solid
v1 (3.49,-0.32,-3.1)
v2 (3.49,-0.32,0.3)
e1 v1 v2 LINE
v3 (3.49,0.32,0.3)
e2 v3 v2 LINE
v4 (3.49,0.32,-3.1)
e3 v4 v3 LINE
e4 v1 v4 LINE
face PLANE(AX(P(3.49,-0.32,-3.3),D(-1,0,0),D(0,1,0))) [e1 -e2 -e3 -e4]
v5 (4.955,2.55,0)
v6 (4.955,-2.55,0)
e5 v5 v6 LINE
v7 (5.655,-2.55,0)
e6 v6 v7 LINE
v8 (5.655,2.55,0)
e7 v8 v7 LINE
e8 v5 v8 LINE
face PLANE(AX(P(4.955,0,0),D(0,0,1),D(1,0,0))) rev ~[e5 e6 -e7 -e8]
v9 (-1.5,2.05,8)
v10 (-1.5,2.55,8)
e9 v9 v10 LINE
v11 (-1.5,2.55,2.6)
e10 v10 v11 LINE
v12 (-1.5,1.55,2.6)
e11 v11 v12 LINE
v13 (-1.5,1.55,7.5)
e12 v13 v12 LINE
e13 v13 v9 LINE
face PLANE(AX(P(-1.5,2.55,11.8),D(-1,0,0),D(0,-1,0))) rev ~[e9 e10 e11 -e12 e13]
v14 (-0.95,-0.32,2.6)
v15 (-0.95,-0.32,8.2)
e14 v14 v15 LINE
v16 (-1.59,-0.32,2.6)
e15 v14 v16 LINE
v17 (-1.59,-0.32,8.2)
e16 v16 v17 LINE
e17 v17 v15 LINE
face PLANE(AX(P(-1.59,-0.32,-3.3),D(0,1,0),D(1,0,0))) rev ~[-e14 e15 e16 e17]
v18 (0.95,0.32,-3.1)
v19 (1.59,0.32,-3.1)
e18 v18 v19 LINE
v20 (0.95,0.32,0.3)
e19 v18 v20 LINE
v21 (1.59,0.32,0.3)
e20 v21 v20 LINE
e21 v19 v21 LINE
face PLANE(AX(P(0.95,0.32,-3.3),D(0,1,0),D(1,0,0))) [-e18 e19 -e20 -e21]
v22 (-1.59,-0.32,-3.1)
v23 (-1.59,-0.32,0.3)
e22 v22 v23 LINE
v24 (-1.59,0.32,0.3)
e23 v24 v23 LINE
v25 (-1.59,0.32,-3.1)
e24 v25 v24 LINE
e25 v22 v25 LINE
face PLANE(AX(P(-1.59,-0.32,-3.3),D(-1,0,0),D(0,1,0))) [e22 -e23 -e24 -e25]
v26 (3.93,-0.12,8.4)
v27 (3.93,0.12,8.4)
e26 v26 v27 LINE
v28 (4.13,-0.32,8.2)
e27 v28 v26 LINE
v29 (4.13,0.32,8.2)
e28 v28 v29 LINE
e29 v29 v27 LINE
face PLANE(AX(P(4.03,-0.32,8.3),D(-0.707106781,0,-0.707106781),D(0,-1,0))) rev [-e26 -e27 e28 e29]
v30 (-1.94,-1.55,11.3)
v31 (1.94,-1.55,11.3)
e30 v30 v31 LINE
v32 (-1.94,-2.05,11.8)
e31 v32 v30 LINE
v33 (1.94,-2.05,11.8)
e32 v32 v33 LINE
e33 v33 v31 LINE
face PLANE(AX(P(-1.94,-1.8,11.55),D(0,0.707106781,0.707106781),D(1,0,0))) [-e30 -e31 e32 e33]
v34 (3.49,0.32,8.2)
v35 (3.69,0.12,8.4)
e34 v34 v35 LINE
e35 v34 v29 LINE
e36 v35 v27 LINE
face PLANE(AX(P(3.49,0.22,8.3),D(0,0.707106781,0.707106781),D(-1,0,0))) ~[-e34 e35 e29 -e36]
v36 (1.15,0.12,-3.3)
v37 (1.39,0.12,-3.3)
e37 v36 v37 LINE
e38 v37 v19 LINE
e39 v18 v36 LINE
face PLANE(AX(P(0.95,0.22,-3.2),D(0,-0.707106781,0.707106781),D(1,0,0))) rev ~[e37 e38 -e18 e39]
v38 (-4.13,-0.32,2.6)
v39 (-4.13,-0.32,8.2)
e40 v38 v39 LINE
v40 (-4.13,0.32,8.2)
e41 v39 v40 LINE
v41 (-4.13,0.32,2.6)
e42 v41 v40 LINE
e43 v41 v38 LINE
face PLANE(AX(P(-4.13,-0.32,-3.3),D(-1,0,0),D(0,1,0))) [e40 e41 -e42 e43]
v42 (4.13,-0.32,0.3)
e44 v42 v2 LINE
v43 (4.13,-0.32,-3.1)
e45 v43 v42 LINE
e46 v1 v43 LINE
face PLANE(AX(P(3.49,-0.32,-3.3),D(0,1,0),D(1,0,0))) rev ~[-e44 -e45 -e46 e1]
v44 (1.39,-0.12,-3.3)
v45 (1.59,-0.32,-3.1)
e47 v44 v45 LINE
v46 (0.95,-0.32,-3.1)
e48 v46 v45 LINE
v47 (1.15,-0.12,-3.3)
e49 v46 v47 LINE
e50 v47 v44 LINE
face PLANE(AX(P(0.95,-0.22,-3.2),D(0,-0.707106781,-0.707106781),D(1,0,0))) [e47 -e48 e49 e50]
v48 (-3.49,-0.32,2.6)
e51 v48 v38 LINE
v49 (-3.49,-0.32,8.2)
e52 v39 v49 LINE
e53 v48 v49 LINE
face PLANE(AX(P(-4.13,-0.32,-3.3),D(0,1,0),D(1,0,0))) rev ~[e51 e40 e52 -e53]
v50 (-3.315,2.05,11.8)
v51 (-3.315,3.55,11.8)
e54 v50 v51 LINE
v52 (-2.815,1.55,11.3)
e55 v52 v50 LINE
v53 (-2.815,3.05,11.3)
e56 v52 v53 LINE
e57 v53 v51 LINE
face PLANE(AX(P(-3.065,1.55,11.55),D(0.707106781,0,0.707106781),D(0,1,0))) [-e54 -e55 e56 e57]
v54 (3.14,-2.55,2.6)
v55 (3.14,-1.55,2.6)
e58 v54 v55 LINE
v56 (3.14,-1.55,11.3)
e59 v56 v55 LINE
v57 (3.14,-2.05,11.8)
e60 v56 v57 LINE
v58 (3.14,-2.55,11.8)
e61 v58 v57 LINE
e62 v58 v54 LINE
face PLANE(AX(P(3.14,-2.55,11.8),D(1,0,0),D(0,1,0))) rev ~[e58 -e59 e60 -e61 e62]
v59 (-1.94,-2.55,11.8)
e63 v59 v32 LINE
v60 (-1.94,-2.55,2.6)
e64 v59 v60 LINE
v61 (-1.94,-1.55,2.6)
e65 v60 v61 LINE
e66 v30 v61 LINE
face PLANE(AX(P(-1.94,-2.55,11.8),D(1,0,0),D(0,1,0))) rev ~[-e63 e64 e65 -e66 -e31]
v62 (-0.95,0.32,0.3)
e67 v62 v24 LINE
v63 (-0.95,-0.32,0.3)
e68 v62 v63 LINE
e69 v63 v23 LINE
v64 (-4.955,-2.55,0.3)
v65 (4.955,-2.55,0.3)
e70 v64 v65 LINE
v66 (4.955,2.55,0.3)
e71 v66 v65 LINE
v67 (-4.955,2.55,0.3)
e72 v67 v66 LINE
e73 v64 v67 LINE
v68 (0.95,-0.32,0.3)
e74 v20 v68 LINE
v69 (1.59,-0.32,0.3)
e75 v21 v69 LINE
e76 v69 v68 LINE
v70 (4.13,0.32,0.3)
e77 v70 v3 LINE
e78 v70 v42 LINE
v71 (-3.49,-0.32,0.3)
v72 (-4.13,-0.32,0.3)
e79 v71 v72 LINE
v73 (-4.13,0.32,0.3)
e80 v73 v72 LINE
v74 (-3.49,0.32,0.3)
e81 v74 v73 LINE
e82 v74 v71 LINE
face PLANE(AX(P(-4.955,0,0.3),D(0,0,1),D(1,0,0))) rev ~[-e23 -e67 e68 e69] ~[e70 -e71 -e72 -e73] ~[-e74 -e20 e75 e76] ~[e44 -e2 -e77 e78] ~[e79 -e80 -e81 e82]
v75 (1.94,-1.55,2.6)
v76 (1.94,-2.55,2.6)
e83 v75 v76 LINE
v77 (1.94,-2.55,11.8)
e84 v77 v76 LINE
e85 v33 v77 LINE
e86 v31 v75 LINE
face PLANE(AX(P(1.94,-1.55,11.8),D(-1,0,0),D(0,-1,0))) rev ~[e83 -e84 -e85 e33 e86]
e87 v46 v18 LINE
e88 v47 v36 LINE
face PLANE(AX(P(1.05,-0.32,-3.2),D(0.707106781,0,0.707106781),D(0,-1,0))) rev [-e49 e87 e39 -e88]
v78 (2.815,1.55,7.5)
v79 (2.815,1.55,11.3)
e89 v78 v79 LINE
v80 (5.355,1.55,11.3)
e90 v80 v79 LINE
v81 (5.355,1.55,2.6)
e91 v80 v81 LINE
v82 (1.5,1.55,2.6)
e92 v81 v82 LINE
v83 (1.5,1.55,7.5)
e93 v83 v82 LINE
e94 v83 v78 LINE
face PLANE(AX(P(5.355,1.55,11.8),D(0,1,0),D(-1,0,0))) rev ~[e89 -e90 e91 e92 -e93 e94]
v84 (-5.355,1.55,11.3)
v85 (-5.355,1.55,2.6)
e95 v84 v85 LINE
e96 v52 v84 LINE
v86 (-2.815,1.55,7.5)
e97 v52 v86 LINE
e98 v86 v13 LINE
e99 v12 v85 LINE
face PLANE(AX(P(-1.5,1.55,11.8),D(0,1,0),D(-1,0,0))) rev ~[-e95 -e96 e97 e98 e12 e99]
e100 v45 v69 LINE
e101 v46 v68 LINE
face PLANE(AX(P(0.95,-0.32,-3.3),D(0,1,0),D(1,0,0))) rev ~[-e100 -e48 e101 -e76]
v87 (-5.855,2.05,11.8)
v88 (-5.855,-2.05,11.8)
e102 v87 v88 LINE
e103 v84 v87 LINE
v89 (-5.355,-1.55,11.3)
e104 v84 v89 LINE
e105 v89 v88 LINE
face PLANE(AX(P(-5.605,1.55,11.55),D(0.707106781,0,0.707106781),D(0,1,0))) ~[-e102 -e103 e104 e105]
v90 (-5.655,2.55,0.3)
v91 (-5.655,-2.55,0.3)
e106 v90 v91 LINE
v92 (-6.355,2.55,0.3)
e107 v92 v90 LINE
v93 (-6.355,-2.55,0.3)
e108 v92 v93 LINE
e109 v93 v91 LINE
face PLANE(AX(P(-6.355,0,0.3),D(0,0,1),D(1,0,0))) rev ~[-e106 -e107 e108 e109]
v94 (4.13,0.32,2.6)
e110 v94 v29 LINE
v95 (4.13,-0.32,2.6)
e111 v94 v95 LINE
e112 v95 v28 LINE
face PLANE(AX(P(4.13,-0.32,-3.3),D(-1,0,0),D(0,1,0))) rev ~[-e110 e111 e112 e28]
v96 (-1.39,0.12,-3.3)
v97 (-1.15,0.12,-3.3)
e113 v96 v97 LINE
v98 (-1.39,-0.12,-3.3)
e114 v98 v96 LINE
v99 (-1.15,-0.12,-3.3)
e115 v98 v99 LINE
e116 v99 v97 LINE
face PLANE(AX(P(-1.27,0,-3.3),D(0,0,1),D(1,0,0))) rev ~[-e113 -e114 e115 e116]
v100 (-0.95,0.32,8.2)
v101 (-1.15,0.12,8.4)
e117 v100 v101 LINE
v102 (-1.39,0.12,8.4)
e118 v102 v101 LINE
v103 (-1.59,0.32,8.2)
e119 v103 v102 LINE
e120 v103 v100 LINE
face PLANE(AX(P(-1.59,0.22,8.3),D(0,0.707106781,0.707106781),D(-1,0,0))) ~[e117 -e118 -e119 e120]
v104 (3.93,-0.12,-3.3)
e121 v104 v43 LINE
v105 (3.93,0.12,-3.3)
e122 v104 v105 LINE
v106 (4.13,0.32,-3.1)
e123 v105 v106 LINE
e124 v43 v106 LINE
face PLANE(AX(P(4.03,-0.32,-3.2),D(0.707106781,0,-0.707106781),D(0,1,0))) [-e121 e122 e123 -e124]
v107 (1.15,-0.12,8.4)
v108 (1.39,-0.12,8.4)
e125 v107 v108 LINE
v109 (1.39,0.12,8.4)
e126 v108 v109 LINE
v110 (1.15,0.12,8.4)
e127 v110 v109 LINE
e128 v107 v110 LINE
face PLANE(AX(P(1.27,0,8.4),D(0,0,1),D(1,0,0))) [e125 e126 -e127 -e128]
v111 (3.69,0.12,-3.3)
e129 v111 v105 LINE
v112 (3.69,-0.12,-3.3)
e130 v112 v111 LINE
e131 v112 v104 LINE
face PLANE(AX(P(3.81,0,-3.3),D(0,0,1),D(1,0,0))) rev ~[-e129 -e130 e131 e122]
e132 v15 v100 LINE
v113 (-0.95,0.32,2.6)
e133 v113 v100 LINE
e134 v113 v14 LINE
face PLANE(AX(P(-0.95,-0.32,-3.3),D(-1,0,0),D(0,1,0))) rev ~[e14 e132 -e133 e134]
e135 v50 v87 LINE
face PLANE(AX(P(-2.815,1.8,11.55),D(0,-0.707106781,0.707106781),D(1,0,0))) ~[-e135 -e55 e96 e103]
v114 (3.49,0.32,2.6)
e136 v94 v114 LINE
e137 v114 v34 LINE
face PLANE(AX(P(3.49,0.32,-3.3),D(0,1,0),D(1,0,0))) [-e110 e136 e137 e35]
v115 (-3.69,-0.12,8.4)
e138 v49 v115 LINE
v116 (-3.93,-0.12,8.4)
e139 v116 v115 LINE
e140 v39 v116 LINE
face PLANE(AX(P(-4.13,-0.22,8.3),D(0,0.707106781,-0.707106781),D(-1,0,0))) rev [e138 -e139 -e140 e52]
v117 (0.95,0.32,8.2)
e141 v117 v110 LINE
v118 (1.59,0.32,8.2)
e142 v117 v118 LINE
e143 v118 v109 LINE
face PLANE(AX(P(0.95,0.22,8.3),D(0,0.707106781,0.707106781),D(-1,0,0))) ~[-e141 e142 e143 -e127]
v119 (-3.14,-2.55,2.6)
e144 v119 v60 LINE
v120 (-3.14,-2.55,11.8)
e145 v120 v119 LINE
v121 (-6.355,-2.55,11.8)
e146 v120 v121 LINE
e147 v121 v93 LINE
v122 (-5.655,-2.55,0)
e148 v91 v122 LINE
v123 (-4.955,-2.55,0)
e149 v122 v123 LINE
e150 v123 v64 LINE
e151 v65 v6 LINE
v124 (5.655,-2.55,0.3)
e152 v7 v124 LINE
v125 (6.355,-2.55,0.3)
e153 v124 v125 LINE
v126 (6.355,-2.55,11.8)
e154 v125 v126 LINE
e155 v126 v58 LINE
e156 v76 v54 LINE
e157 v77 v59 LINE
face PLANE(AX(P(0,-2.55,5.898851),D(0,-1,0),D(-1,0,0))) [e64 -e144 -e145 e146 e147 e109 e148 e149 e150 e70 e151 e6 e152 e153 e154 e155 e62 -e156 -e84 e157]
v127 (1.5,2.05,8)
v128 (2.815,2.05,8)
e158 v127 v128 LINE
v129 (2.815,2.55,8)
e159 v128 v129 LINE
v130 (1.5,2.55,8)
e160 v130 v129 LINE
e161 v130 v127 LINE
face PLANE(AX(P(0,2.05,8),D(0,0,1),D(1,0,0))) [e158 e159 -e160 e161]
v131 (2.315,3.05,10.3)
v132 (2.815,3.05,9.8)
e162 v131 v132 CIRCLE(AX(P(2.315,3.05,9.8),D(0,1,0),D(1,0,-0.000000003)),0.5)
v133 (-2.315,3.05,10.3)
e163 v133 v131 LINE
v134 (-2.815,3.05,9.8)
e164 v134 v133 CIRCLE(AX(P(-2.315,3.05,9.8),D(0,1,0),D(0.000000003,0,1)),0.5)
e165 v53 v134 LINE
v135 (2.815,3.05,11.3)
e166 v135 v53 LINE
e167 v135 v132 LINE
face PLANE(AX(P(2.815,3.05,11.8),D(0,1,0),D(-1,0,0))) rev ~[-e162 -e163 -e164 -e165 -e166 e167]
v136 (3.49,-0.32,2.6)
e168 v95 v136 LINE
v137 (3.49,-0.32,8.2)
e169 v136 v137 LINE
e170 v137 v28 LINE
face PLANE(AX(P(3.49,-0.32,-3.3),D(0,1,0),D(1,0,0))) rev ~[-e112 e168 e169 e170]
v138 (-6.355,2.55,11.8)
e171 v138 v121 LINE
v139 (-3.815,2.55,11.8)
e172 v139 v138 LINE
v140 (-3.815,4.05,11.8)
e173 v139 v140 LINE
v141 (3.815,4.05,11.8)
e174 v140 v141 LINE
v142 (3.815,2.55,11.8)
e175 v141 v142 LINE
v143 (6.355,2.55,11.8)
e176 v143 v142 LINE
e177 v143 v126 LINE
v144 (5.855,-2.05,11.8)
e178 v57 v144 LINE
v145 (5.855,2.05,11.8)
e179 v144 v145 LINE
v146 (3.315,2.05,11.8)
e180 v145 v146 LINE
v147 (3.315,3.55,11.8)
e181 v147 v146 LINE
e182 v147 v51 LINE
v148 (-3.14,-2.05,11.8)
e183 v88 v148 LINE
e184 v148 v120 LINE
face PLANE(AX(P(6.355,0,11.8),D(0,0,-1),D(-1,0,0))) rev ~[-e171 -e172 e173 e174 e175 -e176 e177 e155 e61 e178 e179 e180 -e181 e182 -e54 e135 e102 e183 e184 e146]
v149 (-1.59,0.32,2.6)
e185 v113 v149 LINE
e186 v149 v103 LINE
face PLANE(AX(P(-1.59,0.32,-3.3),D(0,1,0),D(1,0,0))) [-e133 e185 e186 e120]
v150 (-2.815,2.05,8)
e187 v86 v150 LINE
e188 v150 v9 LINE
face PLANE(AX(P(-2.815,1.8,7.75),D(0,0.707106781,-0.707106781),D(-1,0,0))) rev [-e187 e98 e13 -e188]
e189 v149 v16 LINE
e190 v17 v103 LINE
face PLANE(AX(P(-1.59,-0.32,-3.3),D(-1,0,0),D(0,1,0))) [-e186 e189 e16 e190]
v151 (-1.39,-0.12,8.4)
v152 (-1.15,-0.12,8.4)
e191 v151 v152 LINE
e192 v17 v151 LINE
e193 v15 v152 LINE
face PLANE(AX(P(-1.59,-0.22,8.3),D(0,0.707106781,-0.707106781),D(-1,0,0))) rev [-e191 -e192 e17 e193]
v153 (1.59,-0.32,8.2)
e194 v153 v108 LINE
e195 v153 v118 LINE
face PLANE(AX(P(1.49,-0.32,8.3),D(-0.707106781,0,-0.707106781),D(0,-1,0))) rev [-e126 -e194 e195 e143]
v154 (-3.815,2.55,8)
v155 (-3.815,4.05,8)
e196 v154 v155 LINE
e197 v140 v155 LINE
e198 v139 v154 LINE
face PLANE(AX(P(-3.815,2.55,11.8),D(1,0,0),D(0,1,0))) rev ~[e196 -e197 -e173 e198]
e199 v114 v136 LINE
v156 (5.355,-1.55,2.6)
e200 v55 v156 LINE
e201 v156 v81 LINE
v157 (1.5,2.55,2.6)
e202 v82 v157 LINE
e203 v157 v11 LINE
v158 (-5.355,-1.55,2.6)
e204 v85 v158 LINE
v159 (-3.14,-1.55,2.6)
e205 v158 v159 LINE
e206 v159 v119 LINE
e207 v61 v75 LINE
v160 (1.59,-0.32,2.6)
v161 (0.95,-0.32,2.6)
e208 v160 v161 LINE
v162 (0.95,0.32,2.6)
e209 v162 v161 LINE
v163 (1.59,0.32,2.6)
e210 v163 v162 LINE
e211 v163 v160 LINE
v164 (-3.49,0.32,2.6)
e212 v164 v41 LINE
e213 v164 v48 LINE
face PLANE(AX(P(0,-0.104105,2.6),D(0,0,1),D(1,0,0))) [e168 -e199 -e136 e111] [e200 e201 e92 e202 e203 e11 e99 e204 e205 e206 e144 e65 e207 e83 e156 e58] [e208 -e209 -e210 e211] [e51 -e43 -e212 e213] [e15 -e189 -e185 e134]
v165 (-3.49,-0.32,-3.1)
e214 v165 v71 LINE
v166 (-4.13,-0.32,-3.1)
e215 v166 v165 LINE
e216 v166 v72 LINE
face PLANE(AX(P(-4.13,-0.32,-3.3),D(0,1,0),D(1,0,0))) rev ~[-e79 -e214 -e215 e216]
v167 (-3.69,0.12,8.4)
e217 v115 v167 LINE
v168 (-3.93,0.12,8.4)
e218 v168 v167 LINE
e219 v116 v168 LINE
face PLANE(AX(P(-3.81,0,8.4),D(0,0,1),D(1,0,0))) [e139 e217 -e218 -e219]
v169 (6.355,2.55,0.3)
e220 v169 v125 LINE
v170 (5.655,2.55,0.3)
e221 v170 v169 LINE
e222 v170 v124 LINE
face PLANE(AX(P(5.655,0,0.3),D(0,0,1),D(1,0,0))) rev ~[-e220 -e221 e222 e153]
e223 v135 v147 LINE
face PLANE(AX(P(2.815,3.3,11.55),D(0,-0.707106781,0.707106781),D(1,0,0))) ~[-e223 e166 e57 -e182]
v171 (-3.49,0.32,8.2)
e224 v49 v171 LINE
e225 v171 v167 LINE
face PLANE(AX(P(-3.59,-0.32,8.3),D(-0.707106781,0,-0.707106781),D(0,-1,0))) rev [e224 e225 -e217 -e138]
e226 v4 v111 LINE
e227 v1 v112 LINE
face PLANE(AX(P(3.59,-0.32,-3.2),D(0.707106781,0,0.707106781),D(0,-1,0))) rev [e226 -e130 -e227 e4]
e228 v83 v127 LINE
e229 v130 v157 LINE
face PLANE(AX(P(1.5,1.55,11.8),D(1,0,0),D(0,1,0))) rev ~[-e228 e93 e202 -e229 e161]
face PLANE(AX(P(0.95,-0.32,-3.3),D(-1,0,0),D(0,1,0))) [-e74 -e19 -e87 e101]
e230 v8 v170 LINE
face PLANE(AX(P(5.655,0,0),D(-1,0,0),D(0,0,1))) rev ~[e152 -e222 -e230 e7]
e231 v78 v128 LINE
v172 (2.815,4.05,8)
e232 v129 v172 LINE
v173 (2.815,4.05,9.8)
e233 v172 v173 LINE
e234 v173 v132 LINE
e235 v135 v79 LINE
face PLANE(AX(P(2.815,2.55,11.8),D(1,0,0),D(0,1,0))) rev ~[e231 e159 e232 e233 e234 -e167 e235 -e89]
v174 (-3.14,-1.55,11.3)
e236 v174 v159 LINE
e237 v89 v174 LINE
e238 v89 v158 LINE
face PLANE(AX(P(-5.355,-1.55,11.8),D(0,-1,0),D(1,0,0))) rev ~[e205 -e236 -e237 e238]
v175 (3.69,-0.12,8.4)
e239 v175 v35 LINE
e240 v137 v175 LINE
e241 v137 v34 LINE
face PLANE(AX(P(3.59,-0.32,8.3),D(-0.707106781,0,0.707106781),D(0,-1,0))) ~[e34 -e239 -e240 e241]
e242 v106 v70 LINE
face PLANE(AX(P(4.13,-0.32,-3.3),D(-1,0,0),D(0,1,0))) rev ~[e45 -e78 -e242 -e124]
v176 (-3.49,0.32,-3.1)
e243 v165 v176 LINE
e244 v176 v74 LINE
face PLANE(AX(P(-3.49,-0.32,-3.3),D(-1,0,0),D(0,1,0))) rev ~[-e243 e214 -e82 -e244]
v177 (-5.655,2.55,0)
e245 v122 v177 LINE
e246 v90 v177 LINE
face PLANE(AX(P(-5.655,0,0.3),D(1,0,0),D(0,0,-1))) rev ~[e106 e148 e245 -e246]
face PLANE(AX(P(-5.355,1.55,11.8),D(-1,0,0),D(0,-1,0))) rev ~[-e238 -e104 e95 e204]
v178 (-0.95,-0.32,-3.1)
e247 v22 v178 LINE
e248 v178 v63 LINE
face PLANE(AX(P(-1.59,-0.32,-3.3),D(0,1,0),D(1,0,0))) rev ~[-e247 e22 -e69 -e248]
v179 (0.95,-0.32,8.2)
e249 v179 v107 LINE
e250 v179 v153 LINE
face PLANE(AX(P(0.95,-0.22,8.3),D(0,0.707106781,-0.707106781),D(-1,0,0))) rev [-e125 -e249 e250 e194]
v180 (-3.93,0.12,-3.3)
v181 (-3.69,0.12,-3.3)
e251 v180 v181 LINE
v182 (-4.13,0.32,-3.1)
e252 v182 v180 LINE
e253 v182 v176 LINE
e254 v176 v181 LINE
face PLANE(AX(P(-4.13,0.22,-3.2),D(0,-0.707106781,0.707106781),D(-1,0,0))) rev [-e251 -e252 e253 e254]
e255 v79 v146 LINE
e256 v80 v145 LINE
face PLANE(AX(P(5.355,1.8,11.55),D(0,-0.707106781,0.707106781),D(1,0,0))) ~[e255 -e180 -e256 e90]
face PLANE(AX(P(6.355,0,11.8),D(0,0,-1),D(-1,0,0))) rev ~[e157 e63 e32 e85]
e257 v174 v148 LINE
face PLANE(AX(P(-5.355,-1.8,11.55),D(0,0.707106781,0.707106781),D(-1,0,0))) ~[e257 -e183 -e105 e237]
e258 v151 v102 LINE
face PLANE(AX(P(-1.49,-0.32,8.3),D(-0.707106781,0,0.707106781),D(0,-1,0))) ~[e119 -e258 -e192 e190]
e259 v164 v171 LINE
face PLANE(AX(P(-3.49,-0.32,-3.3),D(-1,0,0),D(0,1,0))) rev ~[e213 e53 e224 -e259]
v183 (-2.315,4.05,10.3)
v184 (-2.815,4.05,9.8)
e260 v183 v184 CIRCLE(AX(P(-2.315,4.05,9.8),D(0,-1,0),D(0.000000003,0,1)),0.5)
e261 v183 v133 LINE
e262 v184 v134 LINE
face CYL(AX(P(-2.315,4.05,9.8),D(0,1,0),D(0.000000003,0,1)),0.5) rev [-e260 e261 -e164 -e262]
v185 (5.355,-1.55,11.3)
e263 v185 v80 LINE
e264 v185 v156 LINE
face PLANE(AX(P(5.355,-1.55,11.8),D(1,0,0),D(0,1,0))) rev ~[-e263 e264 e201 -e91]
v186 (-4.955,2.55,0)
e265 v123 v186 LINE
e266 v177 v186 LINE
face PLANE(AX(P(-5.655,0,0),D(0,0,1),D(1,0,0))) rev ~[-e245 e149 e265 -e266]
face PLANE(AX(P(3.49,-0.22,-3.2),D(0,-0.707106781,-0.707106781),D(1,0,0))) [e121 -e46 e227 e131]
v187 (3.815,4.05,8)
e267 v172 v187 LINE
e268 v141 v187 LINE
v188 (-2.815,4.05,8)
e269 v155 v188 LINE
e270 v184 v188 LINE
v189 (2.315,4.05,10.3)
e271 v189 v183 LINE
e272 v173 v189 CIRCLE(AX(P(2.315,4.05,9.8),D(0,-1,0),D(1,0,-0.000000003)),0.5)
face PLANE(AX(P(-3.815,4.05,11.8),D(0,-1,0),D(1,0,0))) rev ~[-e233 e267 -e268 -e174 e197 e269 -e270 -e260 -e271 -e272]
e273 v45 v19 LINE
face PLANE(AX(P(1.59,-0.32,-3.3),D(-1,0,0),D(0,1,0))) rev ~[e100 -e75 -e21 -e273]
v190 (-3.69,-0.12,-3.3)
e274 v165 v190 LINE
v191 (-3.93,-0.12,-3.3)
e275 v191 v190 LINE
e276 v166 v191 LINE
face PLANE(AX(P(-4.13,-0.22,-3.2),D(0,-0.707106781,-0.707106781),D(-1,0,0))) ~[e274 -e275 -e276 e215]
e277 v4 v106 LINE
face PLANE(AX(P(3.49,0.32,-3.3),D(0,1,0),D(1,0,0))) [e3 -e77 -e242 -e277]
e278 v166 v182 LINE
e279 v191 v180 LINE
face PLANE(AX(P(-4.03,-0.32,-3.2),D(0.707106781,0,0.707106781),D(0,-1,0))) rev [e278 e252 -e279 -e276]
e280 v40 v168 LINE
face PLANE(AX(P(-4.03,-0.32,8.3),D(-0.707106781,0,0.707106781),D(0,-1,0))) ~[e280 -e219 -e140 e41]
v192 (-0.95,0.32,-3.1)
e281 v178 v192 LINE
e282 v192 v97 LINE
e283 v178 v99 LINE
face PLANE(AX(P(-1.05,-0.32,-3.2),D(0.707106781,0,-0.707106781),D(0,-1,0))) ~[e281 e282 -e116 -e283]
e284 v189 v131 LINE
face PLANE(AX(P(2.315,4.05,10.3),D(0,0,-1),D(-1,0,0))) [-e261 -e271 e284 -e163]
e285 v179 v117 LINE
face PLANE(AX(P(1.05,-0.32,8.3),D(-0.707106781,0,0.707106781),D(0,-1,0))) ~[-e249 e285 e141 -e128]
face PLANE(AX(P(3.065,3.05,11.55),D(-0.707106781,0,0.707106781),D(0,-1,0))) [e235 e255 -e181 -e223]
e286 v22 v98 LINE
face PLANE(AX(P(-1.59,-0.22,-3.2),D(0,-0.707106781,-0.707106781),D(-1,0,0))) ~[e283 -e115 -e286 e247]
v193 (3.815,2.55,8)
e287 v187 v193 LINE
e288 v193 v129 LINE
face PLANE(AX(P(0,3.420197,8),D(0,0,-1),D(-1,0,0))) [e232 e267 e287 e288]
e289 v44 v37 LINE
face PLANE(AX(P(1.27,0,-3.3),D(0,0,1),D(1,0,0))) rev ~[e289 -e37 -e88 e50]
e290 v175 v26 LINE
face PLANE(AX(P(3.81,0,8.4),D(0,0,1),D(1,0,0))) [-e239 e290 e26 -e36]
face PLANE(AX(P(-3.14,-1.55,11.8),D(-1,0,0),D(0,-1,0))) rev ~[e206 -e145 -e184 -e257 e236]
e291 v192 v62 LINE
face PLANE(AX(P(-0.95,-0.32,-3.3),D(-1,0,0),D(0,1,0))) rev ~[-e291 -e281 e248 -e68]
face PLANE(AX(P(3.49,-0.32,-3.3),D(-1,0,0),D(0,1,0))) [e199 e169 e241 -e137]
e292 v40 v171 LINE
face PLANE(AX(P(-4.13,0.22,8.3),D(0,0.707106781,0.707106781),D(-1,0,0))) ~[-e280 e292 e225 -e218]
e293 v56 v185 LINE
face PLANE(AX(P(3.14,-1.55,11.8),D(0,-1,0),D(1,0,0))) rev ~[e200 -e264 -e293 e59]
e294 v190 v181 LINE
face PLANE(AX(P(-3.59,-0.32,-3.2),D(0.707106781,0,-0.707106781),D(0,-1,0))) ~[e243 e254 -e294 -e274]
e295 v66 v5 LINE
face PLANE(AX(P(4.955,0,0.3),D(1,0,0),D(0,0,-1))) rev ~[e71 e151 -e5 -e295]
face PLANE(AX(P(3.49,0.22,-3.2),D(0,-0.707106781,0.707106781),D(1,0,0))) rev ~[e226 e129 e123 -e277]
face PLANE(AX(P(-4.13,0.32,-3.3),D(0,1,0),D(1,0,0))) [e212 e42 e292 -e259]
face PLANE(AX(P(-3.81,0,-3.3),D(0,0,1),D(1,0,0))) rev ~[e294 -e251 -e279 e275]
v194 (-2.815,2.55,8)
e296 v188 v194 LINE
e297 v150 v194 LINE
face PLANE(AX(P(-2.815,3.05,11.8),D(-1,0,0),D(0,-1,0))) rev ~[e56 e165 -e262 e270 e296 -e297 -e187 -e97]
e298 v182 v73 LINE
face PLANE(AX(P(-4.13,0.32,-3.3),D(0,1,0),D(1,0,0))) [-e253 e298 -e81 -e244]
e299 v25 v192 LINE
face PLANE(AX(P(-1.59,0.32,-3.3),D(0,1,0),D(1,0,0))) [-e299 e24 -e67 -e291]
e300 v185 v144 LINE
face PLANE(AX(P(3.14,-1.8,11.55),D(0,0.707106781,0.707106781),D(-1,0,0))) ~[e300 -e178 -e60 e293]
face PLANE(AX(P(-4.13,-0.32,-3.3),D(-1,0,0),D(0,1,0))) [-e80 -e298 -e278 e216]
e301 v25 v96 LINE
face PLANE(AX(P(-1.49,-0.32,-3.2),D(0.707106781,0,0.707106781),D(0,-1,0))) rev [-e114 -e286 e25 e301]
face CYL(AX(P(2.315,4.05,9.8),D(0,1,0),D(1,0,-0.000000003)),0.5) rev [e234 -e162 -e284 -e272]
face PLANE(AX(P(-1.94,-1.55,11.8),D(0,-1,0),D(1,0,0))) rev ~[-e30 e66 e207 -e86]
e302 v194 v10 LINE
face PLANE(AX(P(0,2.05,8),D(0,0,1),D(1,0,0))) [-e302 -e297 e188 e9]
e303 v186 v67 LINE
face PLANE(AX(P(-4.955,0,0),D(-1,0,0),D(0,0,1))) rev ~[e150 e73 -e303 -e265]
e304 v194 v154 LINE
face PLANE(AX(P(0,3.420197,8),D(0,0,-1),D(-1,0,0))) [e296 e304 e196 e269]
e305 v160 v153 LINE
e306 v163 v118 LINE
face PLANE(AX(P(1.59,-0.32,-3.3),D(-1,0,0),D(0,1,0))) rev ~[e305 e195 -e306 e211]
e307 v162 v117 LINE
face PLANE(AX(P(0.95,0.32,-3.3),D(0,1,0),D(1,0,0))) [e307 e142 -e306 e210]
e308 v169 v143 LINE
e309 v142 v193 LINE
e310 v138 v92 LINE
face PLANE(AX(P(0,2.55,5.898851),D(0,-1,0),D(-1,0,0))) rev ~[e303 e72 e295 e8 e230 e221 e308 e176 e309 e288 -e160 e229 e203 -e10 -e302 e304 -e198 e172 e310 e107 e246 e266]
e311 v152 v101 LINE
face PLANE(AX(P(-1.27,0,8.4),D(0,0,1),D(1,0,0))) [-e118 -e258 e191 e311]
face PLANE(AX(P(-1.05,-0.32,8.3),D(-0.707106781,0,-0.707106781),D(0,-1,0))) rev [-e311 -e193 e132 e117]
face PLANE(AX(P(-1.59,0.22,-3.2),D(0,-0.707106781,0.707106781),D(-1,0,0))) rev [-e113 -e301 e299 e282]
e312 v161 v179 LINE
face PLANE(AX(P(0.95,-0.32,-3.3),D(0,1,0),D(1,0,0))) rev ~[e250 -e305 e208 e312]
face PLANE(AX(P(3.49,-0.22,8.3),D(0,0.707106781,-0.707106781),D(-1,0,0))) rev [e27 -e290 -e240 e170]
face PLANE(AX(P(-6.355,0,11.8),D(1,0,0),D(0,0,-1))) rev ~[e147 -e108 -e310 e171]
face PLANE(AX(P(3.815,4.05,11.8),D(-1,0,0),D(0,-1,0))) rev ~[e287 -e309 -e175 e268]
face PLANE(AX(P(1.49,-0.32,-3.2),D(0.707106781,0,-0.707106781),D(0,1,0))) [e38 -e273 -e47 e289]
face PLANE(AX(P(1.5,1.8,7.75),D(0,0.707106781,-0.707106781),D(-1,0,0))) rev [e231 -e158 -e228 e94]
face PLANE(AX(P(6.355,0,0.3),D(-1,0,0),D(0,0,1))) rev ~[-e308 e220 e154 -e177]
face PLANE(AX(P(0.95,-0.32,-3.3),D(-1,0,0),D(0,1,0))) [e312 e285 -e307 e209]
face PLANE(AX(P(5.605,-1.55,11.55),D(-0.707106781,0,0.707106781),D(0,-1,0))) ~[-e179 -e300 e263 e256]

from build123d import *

# Parameters (mm, degrees)
EXTRUDE_1_DEPTH                    = 2.55
CUT_EXTRUDE_1_DEPTH                = 9.2
EXTRUDE_2_DEPTH                    = 3.8
SKETCH_4_W                         = 5.63
SKETCH_4_H                         = 1
CUT_EXTRUDE_2_DEPTH                = 3.8
CUT_EXTRUDE_3_REACH                = 16.939
CHAMFER_1_SIZE                     = 0.5
EXTRUDE_START                      = -3.6
SKETCH_6_W                         = 0.64
SKETCH_6_H                         = 0.64
EXTRUDE_3_DEPTH                    = 11.7
CHAMFER_2_SIZE                     = 0.2
PATTERN_LINEAR_1_COUNT             = 4
PATTERN_LINEAR_1_PITCH             = 2.54
CHAMFER_2_OF_PATTERN_LINEAR_1_SIZE = 0.2


with BuildPart() as part:
    # Эскиз1 → Бобышка-Вытянуть1 (new, symmetric)
    with BuildSketch(Plane(origin=(0, 0, 0), x_dir=(1, 0, 0), z_dir=(0, 1, 0))):
        Polygon((-4.955, -0.3), (4.955, -0.3), (4.955, 0), (5.655, 0), (5.655, -0.3), (6.355, -0.3), (6.355, -11.8), (-6.355, -11.8), (-6.355, -0.3), (-5.655, -0.3), (-5.655, 0), (-4.955, 0), align=None)
    extrude(amount=EXTRUDE_1_DEPTH, both=True)

    # Эскиз2 → Вырез-Вытянуть1 (cut)
    with BuildSketch(Plane.XY.offset(11.8)):
        Polygon((-5.355, 1.55), (-5.355, -1.55), (-3.14, -1.55), (-3.14, -2.55), (-1.94, -2.55), (-1.94, -1.55), (1.94, -1.55), (1.94, -2.55), (3.14, -2.55), (3.14, -1.55), (5.355, -1.55), (5.355, 1.55), (1.5, 1.55), (1.5, 2.55), (-1.5, 2.55), (-1.5, 1.55), align=None)
    extrude(amount=-CUT_EXTRUDE_1_DEPTH, mode=Mode.SUBTRACT)

    # Эскиз3 → Бобышка-Вытянуть2 (add)
    with BuildSketch(Plane.XY.offset(11.8)):
        Polygon((-3.815, 2.55), (-3.815, 4.05), (3.815, 4.05), (3.815, 2.55), (2.815, 2.55), (2.815, 3.05), (-2.815, 3.05), (-2.815, 2.55), align=None)
    extrude(amount=-EXTRUDE_2_DEPTH)

    # Эскиз4 → Вырез-Вытянуть2 (cut)
    with BuildSketch(Plane.XY.offset(11.8)):
        with Locations((0, 2.05)):
            Rectangle(SKETCH_4_W, SKETCH_4_H)
    extrude(amount=-CUT_EXTRUDE_2_DEPTH, mode=Mode.SUBTRACT)

    # Эскиз5 → Вырез-Вытянуть3 (cut, up to next)
    with BuildSketch(Plane(origin=(0, 4.05, 0), x_dir=(1, 0, 0), z_dir=(0, 1, 0)), mode=Mode.PRIVATE) as cut_extrude_3_sk1:
        with BuildLine():
            Line((2.815, -8), (2.815, -9.8))
            ThreePointArc((2.815, -9.8), (2.668553391, -10.153553391), (2.315, -10.3))
            Line((2.315, -10.3), (-2.315, -10.3))
            ThreePointArc((-2.315, -10.3), (-2.668553391, -10.153553391), (-2.815, -9.8))
            Line((-2.815, -9.8), (-2.815, -8))
            Line((-2.815, -8), (2.815, -8))
        make_face()
    cut_extrude_3_tool1 = extrude(cut_extrude_3_sk1.sketch, amount=-CUT_EXTRUDE_3_REACH, mode=Mode.PRIVATE) & part.part
    add(cut_extrude_3_tool1.solids().sort_by_distance((0, 4.05, 9.141324))[0], mode=Mode.SUBTRACT)

    # Фаска1
    chamfer_1_edges = [part.edges().sort_by_distance(p)[0] for p in [
        (2.1575, 1.55, 8),
        (-4.085, 1.55, 11.8),
        (-2.1575, 1.55, 8),
        (-5.355, 0, 11.8),
        (-4.2475, -1.55, 11.8),
        (0, -1.55, 11.8),
        (4.2475, -1.55, 11.8),
        (5.355, 0, 11.8),
        (4.085, 1.55, 11.8),
        (-2.815, 2.3, 11.8),
        (0, 3.05, 11.8),
        (2.815, 2.3, 11.8),
    ]]
    chamfer(chamfer_1_edges, length=CHAMFER_1_SIZE)

    # Эскиз6 → Бобышка-Вытянуть3 (add)
    with BuildSketch(Plane.XY.offset(0.3).offset(EXTRUDE_START)):
        with Locations((3.81, 0)):
            Rectangle(SKETCH_6_W, SKETCH_6_H)
    extrude_3 = extrude(amount=EXTRUDE_3_DEPTH)

    # Фаска2
    chamfer_2_edges = [part.edges().sort_by_distance(p)[0] for p in [
        (3.81, 0.32, 8.4),
        (4.13, 0, 8.4),
        (3.81, -0.32, 8.4),
        (3.49, 0, 8.4),
        (3.49, 0, -3.3),
        (3.81, 0.32, -3.3),
        (4.13, 0, -3.3),
        (3.81, -0.32, -3.3),
    ]]
    chamfer(chamfer_2_edges, length=CHAMFER_2_SIZE)

    # Линейный массив1: Бобышка-Вытянуть3 ×4
    with Locations(*[(-i * PATTERN_LINEAR_1_PITCH, 0, 0) for i in range(1, PATTERN_LINEAR_1_COUNT)]):
        add(extrude_3)

    # Фаска2 of Линейный массив1
    chamfer_2_of_pattern_linear_1_edges = [part.edges().sort_by_distance(p)[0] for p in [
        (1.27, 0.32, 8.4),
        (1.59, 0, 8.4),
        (1.27, -0.32, 8.4),
        (0.95, 0, 8.4),
        (0.95, 0, -3.3),
        (1.27, 0.32, -3.3),
        (1.59, 0, -3.3),
        (1.27, -0.32, -3.3),
        (-1.27, 0.32, 8.4),
        (-0.95, 0, 8.4),
        (-1.27, -0.32, 8.4),
        (-1.59, 0, 8.4),
        (-1.59, 0, -3.3),
        (-1.27, 0.32, -3.3),
        (-0.95, 0, -3.3),
        (-1.27, -0.32, -3.3),
        (-3.81, 0.32, 8.4),
        (-3.49, 0, 8.4),
        (-3.81, -0.32, 8.4),
        (-4.13, 0, 8.4),
        (-4.13, 0, -3.3),
        (-3.81, 0.32, -3.3),
        (-3.49, 0, -3.3),
        (-3.81, -0.32, -3.3),
    ]]
    chamfer(chamfer_2_of_pattern_linear_1_edges, length=CHAMFER_2_OF_PATTERN_LINEAR_1_SIZE)


solid = part.part
